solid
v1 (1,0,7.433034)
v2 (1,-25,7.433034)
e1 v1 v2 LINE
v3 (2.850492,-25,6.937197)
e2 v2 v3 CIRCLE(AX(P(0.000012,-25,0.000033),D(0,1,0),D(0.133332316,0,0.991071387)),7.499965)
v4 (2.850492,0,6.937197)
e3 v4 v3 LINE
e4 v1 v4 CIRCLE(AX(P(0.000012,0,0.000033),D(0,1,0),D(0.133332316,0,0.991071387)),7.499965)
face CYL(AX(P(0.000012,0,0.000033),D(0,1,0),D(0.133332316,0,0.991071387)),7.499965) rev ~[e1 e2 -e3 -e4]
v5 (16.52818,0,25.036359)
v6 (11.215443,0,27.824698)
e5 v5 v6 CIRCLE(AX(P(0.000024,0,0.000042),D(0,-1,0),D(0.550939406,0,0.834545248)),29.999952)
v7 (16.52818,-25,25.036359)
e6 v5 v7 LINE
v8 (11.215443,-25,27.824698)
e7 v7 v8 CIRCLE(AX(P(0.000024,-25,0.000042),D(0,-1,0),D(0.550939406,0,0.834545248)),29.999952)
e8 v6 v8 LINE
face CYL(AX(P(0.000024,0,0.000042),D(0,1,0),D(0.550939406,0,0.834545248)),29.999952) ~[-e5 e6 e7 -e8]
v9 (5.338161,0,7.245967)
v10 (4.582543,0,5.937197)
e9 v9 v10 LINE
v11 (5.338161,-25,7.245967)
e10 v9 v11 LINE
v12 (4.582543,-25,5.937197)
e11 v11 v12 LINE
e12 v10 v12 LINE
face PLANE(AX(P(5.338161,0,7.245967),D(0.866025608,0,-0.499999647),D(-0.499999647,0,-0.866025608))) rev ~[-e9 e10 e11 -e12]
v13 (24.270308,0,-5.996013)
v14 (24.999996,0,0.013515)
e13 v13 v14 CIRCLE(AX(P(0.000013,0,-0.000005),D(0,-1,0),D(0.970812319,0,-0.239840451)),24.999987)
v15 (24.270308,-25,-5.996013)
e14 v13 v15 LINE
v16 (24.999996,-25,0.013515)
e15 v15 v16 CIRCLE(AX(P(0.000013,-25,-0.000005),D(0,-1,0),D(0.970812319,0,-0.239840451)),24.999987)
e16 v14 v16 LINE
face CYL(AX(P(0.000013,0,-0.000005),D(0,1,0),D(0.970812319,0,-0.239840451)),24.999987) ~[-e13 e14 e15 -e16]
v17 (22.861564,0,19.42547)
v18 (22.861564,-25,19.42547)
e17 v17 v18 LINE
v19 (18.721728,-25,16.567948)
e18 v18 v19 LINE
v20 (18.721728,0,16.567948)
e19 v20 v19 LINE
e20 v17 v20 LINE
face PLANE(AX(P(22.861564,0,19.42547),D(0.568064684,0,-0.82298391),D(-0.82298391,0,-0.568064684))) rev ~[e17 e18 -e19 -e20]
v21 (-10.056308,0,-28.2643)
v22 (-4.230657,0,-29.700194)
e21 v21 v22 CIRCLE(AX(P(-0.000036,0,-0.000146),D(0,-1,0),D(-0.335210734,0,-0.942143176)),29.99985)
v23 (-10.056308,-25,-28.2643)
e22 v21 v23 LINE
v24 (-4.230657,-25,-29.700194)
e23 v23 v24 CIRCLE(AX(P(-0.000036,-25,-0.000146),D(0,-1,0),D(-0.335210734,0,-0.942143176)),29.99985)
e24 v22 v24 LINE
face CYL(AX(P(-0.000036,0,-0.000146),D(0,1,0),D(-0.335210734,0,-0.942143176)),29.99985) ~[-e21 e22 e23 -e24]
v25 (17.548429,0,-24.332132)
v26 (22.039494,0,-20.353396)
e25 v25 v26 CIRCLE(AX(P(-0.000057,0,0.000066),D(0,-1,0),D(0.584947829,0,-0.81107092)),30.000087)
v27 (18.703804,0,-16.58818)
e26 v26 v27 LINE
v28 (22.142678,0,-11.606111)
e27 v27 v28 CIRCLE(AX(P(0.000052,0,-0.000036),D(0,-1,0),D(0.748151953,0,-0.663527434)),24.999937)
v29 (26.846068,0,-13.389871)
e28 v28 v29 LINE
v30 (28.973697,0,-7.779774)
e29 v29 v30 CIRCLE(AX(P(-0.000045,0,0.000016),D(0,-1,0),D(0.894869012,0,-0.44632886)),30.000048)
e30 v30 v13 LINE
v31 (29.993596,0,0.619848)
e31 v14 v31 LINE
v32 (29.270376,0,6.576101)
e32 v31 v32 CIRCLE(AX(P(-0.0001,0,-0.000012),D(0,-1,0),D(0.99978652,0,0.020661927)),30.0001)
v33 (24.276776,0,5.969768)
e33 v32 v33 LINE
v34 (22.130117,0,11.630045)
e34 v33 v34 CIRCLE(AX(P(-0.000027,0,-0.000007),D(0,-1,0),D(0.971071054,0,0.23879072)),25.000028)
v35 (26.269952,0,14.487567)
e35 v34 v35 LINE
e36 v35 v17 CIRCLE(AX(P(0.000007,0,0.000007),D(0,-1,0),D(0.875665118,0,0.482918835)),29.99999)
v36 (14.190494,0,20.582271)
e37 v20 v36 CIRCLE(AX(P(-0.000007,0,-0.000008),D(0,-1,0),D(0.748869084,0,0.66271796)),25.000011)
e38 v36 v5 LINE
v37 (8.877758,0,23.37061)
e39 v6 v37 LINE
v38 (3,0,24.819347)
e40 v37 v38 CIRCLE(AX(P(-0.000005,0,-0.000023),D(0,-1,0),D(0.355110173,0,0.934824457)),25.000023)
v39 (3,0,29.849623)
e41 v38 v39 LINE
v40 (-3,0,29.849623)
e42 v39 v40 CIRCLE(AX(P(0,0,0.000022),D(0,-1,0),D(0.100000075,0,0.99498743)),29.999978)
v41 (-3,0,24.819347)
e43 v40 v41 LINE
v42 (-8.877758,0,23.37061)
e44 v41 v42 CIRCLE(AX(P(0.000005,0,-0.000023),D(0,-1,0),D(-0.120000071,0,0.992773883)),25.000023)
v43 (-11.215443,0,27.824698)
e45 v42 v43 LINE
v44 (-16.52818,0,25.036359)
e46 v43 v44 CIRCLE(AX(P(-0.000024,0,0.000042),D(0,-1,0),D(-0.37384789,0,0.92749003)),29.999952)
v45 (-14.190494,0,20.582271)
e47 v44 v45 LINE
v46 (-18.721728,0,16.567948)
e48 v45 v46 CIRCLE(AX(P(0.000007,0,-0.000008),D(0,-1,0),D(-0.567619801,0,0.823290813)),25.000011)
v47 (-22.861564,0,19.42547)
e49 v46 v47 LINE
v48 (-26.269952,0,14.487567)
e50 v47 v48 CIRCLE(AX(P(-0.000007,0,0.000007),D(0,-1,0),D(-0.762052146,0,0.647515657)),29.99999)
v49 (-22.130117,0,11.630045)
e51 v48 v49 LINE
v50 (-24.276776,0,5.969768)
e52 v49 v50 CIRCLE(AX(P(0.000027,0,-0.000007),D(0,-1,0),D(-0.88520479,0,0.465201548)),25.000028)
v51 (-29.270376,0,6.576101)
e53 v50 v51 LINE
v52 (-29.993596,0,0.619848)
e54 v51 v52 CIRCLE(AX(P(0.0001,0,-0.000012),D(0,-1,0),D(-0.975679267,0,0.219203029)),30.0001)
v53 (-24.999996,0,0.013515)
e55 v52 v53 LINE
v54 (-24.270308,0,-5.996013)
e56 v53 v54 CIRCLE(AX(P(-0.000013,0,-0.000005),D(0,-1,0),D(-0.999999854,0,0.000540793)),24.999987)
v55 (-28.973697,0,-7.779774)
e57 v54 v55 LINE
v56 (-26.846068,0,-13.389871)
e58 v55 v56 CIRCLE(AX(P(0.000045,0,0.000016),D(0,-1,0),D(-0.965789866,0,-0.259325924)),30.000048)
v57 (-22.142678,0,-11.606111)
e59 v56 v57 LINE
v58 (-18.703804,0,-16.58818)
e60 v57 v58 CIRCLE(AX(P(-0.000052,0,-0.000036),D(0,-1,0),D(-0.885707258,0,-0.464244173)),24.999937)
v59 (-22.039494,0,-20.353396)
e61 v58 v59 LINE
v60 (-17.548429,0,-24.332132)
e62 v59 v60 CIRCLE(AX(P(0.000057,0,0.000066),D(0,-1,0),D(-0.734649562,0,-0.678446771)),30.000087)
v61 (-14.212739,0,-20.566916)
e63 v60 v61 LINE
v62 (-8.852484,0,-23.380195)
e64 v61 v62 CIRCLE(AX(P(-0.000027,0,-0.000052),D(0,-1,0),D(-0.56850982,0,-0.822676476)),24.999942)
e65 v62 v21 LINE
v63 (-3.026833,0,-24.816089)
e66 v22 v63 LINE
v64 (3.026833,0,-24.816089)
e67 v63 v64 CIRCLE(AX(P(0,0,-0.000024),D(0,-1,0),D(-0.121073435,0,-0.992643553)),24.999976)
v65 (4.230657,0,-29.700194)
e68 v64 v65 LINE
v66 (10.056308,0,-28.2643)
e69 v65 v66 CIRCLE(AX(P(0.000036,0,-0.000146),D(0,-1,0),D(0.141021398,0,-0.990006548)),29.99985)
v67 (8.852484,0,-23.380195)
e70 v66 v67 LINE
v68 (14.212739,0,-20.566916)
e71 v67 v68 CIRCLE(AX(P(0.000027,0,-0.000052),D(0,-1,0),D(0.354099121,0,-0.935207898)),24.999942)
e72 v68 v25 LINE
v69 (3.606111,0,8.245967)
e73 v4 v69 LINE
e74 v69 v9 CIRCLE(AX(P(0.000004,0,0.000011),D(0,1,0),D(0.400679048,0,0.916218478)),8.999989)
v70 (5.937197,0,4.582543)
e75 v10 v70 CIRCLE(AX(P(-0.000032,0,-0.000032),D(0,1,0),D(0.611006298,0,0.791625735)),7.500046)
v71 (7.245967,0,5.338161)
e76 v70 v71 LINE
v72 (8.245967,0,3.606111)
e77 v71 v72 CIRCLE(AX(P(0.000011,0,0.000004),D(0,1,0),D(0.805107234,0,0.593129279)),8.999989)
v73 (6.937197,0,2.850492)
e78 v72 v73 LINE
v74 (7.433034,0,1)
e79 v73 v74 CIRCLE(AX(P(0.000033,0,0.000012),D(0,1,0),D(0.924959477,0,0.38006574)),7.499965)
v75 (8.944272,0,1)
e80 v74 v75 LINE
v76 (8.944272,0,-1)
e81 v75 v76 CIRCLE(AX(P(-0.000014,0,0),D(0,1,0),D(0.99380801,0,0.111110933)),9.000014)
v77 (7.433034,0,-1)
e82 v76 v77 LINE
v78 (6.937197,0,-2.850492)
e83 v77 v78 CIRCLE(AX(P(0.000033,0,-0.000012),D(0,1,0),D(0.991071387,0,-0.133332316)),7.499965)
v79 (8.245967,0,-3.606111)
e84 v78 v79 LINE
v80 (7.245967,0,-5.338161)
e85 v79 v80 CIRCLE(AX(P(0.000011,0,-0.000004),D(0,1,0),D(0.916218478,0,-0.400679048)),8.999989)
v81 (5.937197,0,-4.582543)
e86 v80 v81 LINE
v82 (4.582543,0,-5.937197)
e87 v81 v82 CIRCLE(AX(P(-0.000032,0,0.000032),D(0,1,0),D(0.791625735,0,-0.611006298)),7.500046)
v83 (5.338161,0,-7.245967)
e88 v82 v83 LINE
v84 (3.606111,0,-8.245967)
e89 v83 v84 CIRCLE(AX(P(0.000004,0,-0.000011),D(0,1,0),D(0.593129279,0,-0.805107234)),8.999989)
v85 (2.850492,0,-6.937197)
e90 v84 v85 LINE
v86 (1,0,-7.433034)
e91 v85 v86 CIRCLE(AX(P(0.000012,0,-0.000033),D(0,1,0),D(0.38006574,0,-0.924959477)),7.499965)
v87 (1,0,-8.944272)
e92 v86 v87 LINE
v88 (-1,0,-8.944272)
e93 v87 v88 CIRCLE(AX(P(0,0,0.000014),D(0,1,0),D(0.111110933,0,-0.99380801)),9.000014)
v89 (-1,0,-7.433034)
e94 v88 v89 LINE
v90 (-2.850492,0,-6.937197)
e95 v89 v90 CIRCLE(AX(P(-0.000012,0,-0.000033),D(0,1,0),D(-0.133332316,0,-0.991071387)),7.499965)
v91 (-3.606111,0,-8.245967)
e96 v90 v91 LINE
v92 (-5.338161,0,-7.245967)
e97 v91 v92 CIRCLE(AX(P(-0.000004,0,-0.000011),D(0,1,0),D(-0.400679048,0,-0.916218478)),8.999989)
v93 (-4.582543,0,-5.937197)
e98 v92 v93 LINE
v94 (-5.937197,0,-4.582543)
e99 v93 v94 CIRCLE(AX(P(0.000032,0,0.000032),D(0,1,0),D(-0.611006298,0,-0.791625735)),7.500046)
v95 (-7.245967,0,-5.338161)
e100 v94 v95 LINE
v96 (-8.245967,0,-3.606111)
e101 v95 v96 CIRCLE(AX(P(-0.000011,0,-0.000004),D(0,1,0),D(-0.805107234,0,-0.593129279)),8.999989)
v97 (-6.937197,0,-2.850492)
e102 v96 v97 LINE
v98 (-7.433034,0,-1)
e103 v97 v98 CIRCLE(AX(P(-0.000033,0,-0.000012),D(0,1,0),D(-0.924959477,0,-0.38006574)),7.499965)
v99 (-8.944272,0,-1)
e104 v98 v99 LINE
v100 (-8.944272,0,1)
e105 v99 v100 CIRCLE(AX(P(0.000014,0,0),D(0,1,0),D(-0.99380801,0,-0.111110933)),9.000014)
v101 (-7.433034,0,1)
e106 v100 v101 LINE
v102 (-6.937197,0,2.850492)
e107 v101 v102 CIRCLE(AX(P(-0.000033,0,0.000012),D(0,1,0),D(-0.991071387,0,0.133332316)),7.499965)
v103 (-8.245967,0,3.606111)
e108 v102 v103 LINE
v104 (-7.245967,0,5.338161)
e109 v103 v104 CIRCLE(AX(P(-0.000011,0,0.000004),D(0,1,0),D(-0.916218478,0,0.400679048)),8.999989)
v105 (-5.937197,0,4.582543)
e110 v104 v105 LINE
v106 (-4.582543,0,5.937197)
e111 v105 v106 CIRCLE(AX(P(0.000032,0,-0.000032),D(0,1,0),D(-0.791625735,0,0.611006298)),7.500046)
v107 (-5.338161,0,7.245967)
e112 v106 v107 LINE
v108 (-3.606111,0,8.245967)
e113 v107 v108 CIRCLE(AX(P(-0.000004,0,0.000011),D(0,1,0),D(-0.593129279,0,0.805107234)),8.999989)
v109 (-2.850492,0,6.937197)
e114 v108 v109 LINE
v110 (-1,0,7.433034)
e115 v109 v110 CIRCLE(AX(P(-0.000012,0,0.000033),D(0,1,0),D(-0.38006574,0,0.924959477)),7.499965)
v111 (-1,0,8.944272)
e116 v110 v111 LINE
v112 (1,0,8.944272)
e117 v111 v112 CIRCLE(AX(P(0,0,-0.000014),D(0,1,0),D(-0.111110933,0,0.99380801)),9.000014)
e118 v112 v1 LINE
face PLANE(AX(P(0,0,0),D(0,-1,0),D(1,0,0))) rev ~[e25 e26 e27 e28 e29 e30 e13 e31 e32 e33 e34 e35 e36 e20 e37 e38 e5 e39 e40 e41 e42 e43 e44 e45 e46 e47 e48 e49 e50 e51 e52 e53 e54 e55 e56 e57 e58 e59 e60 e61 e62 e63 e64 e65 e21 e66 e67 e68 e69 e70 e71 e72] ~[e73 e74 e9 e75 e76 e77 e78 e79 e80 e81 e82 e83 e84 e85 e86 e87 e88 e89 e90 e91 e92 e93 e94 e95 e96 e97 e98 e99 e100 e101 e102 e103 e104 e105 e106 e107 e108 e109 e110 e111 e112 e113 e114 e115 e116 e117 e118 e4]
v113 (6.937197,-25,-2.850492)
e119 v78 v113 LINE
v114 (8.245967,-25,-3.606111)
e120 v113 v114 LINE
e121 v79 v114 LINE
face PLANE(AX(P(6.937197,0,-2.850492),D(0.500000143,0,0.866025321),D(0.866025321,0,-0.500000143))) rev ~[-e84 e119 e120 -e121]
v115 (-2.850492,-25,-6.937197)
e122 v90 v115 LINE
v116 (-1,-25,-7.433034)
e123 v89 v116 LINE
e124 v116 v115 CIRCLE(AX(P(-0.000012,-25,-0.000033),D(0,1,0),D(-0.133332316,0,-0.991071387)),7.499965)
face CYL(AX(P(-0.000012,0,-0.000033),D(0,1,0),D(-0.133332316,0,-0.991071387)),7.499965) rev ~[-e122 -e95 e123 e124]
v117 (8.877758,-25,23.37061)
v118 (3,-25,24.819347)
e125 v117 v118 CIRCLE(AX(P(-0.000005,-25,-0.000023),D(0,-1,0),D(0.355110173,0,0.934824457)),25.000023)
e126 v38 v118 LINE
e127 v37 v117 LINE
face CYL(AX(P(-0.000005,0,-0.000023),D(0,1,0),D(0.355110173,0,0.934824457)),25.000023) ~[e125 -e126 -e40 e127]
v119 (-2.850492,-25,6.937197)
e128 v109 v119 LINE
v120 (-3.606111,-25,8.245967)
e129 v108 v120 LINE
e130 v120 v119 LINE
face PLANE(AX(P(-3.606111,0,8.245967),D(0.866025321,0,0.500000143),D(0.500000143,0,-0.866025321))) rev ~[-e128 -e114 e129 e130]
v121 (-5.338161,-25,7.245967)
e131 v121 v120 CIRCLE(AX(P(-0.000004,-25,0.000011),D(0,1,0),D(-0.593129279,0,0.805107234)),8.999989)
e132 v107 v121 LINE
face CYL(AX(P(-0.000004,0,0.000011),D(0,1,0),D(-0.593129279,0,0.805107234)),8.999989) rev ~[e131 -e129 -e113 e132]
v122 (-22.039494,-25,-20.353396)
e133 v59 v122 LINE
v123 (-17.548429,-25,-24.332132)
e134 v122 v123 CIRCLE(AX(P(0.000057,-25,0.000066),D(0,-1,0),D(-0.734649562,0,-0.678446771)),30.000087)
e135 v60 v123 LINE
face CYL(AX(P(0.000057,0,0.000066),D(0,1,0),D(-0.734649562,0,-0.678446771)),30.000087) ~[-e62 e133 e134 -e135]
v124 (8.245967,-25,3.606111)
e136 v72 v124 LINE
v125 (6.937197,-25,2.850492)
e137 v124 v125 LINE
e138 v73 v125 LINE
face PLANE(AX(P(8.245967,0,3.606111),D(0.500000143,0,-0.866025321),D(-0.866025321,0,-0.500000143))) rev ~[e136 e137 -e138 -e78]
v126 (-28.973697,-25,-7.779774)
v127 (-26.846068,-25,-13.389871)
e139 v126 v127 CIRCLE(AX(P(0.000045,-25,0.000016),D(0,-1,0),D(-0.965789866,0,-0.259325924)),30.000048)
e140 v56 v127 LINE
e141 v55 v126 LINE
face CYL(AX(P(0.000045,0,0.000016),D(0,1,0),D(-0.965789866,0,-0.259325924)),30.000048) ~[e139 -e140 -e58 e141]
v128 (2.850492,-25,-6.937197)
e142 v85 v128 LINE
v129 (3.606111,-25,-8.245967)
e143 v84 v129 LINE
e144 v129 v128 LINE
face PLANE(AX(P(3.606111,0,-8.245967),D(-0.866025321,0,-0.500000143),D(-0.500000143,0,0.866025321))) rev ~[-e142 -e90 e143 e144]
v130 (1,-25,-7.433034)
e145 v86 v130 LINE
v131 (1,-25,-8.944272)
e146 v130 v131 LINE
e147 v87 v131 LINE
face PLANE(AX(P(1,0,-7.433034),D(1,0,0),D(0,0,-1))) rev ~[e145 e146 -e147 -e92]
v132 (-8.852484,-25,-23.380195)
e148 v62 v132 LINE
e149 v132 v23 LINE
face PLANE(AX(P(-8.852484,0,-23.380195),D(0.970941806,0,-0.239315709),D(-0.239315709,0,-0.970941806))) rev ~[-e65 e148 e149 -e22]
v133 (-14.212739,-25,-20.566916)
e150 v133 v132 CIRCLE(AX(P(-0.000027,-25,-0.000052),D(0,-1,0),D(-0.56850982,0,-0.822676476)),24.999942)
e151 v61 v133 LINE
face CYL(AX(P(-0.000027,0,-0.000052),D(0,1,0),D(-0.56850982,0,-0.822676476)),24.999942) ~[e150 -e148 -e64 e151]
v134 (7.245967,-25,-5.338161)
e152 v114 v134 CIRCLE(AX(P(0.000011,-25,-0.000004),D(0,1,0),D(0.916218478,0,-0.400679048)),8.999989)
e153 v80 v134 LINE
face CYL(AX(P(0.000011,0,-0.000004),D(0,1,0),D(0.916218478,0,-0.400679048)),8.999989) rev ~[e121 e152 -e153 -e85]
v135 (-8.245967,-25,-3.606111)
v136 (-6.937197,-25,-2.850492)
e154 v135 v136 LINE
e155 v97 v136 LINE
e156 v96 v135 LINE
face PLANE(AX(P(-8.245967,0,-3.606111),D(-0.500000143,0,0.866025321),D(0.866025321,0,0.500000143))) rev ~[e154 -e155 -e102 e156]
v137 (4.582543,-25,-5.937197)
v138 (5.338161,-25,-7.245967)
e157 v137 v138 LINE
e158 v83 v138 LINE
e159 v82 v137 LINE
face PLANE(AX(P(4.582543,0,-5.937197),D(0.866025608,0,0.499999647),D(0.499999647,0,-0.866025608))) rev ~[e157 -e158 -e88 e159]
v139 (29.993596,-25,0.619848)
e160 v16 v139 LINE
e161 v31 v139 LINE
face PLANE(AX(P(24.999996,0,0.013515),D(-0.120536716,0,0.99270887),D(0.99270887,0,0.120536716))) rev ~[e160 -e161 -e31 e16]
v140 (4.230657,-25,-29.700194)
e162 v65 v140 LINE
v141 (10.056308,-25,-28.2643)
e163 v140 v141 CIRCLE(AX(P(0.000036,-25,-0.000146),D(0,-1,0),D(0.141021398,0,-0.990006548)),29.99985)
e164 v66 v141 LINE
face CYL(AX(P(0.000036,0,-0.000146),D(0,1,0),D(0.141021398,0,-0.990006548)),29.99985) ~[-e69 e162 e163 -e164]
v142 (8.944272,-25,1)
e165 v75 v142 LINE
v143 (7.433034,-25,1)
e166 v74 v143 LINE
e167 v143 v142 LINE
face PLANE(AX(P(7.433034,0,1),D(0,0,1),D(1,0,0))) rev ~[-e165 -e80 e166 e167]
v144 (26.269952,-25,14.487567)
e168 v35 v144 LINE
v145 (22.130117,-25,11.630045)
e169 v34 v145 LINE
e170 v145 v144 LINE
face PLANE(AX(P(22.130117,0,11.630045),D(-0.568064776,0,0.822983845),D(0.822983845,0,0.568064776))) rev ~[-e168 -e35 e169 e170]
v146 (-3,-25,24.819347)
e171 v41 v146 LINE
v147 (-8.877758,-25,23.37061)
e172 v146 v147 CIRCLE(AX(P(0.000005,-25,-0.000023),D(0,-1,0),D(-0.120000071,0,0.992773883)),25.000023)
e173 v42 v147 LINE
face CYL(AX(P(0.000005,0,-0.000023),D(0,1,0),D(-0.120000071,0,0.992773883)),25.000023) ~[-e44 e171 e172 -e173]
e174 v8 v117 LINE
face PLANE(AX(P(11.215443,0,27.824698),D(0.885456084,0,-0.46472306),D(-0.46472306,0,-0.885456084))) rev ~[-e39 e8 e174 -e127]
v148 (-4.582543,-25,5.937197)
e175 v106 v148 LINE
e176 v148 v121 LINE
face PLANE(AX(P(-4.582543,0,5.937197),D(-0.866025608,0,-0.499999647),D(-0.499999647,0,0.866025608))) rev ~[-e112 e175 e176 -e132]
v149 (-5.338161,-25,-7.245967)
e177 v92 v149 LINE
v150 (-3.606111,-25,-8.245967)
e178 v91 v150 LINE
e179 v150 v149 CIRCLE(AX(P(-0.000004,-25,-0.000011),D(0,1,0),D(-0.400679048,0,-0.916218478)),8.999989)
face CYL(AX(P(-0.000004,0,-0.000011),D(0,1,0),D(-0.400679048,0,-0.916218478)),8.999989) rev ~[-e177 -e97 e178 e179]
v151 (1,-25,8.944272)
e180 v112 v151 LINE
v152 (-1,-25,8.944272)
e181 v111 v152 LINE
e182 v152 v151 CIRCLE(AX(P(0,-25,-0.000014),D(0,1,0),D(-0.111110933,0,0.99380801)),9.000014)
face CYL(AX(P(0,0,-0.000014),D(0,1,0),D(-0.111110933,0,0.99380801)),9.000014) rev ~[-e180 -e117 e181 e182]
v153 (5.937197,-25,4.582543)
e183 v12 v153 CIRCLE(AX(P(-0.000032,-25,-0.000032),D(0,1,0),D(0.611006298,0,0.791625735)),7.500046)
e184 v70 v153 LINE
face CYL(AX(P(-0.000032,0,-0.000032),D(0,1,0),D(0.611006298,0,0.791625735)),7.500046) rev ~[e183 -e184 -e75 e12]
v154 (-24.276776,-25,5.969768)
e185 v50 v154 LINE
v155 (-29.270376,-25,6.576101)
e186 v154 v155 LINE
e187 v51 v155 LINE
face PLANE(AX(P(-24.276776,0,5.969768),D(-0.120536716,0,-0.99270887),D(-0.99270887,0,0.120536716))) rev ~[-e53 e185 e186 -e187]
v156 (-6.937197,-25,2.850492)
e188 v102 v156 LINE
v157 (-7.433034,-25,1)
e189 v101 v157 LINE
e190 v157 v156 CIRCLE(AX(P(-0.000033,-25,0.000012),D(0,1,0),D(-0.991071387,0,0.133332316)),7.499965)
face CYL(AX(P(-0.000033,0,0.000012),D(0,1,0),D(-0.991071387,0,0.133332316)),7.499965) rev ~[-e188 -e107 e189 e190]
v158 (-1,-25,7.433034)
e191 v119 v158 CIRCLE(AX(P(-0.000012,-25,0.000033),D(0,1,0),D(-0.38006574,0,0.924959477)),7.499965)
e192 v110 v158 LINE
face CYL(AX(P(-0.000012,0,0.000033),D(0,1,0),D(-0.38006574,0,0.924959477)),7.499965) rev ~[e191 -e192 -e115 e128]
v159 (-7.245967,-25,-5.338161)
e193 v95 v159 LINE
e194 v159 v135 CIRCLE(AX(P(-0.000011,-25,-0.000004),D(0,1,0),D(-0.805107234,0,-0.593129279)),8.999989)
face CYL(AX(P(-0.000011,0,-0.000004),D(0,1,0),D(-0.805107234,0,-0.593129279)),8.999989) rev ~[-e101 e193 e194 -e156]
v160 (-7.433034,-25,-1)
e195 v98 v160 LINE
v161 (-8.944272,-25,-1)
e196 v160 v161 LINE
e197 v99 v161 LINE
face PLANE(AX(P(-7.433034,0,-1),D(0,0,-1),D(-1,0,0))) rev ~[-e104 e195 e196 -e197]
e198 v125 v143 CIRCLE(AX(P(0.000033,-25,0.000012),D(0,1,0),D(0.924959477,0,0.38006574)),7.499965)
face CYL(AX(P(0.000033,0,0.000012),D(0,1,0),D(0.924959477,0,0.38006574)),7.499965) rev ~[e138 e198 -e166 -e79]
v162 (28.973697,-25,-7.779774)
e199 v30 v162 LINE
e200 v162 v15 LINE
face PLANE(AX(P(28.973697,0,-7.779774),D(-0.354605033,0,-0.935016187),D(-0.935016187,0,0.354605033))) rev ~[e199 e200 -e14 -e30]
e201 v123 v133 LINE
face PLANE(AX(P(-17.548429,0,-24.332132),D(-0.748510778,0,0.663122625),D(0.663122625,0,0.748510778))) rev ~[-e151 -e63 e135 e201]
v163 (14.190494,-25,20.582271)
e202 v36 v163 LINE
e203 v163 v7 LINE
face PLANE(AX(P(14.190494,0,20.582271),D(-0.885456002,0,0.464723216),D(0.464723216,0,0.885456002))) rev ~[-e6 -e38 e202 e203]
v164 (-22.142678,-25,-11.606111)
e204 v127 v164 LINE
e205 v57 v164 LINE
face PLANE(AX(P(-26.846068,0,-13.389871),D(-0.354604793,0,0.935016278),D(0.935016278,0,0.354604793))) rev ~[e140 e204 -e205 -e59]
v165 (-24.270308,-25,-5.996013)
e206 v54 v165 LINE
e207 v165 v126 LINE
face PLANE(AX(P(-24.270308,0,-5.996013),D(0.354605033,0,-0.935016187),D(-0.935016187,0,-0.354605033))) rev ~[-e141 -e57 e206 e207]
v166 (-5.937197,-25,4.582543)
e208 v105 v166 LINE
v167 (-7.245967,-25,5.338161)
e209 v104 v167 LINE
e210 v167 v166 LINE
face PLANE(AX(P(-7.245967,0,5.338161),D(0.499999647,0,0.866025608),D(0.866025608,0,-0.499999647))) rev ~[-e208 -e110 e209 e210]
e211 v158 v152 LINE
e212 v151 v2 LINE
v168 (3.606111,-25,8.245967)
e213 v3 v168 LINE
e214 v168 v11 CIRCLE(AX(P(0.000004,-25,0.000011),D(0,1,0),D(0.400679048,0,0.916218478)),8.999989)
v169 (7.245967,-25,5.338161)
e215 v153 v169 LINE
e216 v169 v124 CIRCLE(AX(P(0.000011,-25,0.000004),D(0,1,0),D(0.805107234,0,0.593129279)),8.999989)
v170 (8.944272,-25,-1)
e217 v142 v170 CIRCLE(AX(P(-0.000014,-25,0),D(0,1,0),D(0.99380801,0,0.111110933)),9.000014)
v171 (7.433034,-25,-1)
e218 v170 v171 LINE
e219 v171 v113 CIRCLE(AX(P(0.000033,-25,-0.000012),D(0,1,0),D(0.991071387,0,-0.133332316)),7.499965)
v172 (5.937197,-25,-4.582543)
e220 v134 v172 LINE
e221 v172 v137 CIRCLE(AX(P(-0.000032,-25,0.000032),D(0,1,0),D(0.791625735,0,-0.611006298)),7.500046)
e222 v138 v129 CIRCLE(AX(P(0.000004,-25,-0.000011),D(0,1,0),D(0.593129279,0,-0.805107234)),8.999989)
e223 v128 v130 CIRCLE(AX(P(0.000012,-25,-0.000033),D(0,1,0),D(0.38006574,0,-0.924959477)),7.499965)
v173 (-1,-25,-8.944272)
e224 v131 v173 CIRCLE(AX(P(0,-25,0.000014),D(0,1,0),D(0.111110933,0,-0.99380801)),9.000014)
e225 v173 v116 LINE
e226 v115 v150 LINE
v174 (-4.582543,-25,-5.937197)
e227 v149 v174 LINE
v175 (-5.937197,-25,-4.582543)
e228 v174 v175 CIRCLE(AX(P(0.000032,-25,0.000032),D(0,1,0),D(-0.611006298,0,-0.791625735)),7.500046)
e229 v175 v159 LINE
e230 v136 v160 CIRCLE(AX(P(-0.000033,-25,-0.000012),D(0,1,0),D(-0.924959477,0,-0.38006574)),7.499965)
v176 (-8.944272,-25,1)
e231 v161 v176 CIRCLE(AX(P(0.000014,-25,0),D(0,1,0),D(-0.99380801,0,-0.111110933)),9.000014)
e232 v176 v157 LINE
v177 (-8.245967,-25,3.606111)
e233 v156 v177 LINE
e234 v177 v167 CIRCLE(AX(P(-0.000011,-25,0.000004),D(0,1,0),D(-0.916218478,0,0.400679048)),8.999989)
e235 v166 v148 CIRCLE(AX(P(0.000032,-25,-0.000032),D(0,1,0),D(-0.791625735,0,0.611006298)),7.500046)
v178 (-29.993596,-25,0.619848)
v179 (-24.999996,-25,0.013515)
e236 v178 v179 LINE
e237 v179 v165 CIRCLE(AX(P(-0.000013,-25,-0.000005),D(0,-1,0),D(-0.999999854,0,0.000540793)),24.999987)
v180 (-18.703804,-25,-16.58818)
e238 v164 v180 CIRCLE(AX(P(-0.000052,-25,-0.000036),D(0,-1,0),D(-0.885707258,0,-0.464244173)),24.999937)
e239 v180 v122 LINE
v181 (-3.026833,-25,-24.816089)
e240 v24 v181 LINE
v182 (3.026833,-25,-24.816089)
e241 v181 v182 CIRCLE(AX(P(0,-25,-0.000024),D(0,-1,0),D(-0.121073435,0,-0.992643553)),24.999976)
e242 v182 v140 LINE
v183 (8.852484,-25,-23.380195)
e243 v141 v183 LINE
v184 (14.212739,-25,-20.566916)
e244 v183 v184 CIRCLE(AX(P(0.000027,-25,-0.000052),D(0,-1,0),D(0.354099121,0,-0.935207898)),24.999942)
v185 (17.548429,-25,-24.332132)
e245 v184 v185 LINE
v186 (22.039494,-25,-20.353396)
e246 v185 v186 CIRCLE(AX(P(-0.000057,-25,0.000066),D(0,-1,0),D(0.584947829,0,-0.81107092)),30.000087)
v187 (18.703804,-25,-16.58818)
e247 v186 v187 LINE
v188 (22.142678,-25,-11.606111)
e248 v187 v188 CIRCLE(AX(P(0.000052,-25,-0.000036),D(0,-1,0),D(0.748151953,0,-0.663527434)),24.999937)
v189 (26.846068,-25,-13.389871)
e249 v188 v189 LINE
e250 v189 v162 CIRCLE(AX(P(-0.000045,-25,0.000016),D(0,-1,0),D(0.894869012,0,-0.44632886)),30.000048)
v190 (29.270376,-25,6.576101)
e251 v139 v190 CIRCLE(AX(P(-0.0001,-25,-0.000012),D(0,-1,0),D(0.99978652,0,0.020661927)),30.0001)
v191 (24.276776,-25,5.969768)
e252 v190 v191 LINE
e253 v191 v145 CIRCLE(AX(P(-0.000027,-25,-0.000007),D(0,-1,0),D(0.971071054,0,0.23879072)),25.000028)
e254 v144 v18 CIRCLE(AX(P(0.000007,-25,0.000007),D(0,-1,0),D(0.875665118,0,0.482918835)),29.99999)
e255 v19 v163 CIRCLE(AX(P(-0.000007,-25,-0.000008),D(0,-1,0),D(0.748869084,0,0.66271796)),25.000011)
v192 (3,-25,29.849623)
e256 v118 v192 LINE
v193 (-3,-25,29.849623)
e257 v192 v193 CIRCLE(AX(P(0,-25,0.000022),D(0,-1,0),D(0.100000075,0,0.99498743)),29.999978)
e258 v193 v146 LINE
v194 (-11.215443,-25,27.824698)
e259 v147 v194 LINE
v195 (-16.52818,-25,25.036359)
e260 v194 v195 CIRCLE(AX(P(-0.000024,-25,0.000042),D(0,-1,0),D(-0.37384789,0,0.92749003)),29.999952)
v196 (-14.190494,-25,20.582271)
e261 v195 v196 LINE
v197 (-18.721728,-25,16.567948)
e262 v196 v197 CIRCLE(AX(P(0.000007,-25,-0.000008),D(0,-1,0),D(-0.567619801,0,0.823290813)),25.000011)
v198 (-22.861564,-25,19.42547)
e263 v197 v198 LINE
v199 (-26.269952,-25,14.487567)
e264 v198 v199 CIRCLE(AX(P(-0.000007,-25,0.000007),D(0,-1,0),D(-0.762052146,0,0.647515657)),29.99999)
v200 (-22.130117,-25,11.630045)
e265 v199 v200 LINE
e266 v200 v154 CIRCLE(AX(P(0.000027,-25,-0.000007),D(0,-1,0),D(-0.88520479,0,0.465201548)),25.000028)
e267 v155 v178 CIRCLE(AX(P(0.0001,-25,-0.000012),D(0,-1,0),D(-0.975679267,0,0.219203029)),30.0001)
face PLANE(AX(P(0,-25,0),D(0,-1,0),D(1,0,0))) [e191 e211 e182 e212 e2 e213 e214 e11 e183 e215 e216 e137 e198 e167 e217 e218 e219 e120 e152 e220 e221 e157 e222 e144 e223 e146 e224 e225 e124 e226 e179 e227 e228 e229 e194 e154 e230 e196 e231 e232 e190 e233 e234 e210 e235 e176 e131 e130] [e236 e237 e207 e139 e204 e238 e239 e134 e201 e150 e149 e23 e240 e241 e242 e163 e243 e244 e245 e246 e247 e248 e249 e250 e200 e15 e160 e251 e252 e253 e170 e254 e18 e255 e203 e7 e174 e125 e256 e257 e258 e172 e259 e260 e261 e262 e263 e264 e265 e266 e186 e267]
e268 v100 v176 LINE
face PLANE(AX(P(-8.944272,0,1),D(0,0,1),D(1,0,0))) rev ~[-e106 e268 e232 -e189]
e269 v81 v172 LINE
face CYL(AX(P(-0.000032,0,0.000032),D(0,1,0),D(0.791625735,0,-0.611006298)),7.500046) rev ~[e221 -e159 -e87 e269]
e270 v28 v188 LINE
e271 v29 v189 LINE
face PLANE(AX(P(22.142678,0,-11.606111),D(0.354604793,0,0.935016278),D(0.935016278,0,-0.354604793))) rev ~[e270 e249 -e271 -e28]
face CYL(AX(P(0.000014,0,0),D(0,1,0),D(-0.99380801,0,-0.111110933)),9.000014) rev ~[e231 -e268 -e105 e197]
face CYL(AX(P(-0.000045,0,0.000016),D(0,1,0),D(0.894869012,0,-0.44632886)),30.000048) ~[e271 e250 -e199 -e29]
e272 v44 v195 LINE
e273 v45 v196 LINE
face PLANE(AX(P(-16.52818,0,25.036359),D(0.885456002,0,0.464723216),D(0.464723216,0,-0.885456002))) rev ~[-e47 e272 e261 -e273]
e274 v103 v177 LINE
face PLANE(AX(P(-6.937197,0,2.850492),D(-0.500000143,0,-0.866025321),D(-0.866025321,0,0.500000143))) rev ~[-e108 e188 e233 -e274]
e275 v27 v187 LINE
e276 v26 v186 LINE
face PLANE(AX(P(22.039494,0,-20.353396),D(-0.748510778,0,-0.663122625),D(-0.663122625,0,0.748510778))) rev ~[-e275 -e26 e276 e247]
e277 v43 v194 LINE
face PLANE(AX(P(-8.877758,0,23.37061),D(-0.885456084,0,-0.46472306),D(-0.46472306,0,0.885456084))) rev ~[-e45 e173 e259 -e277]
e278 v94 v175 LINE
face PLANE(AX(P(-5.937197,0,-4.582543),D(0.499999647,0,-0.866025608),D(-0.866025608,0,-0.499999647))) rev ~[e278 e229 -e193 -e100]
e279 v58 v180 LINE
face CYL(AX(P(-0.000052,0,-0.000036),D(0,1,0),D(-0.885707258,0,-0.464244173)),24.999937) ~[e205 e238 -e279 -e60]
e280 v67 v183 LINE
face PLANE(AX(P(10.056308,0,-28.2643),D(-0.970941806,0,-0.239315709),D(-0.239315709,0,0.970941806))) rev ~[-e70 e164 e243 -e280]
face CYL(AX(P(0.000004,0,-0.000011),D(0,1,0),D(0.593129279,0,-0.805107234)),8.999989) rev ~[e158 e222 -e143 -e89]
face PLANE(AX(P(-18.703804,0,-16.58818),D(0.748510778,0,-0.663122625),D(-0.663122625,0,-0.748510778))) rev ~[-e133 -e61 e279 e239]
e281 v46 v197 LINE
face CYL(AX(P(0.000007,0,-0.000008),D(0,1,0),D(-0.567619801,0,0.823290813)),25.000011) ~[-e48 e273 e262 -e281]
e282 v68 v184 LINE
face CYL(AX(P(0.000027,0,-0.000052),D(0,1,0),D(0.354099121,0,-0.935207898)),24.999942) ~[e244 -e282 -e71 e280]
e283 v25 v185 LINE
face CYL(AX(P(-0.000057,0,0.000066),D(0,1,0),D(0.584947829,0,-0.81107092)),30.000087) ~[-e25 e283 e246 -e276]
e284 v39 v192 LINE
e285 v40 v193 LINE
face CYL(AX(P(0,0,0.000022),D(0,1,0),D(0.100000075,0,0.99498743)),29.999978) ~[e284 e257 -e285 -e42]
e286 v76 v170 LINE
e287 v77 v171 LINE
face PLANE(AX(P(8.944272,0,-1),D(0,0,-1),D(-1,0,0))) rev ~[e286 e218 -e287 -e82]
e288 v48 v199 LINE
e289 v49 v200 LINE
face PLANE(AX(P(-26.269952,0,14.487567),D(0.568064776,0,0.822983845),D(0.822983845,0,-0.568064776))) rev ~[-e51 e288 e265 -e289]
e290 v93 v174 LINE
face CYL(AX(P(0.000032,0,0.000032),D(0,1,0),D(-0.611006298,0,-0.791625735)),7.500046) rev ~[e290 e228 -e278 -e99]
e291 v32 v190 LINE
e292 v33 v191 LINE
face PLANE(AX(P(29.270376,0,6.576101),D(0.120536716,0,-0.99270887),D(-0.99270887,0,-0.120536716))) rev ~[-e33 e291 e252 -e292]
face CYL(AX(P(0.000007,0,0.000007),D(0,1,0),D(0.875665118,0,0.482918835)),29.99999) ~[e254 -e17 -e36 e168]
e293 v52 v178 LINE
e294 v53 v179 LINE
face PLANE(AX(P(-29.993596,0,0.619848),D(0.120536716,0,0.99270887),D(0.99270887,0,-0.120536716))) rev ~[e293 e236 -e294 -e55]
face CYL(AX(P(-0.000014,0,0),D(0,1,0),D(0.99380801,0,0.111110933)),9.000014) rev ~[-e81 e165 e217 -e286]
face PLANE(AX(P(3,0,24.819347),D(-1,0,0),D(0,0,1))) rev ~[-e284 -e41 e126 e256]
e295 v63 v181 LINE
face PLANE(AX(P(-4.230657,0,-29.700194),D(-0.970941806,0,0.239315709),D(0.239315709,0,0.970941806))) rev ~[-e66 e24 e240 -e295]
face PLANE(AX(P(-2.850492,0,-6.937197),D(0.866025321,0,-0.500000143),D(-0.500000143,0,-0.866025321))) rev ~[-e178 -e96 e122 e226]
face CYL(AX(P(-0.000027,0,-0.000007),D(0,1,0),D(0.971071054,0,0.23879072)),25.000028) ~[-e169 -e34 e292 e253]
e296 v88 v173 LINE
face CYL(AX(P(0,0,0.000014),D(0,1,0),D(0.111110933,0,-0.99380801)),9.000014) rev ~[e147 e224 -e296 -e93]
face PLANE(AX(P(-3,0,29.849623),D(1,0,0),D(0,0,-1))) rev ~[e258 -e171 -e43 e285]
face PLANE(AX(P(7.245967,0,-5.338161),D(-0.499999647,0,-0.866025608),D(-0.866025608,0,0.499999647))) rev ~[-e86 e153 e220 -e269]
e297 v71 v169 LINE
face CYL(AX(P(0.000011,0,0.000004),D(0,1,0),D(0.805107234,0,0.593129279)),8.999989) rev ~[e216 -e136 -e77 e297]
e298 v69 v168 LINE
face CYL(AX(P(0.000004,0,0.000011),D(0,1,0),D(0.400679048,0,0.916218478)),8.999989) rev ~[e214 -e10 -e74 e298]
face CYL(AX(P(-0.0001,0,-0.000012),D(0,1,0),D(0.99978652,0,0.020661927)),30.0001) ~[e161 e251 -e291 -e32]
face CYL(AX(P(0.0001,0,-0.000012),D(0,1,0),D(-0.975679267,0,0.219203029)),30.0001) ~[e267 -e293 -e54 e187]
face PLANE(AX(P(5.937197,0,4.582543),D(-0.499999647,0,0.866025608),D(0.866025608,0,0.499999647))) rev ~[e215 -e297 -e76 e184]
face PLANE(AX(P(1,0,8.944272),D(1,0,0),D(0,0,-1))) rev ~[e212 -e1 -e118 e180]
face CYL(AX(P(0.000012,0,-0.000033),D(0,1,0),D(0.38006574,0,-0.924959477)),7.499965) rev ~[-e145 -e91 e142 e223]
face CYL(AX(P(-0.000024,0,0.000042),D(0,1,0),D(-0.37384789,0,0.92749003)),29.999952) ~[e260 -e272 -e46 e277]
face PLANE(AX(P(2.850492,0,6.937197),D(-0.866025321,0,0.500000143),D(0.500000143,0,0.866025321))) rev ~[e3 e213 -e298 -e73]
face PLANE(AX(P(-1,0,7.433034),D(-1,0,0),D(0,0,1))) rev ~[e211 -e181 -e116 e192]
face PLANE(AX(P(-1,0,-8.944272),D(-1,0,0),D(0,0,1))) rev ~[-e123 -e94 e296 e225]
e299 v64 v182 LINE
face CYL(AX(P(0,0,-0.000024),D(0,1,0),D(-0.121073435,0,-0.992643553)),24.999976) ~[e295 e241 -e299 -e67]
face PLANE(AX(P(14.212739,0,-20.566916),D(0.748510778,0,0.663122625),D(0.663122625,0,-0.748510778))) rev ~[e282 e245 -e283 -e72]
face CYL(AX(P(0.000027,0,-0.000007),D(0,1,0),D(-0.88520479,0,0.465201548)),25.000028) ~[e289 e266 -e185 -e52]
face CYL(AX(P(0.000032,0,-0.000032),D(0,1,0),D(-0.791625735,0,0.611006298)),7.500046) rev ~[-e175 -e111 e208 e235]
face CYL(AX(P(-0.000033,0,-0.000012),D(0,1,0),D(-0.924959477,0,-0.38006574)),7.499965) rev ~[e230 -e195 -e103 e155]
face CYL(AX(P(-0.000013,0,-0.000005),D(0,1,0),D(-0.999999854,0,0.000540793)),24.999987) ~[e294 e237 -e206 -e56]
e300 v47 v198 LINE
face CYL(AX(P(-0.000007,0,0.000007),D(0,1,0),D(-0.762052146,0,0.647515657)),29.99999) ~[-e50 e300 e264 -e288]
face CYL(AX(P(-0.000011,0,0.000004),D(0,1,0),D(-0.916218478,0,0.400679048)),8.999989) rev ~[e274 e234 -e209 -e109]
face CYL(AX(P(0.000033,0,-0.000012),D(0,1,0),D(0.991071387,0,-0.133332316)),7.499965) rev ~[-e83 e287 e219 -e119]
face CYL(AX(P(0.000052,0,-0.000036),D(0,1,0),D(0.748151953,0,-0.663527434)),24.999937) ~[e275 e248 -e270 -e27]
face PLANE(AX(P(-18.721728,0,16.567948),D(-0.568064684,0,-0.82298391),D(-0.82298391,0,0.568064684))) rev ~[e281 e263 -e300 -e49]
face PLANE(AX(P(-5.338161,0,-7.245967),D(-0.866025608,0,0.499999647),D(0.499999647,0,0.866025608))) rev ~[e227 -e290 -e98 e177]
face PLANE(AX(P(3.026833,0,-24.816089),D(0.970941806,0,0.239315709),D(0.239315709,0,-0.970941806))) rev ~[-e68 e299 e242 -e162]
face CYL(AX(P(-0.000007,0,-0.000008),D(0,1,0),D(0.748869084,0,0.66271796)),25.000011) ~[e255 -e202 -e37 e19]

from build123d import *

# Parameters (mm, degrees)
F1_DEPTH = 25


with BuildPart() as f1:
    # F0 (on Front) → F1 (new body)
    with BuildSketch(Plane.XZ):
        with BuildLine():
            Line((-16.52818, 25.036359), (-14.190494, 20.582271))
            ThreePointArc((-14.190494, 20.582271), (-16.578066, 18.712769), (-18.721728, 16.567948))
            Line((-18.721728, 16.567948), (-22.861564, 19.42547))
            ThreePointArc((-22.861564, 19.42547), (-24.689516, 17.041942), (-26.269952, 14.487567))
            Line((-26.269952, 14.487567), (-22.130117, 11.630045))
            ThreePointArc((-22.130117, 11.630045), (-23.375406, 8.865122), (-24.276776, 5.969768))
            Line((-24.276776, 5.969768), (-29.270376, 6.576101))
            ThreePointArc((-29.270376, 6.576101), (-29.781266, 3.6161), (-29.993596, 0.619848))
            Line((-29.993596, 0.619848), (-24.999996, 0.013515))
            ThreePointArc((-24.999996, 0.013515), (-24.817722, -3.013417), (-24.270308, -5.996013))
            Line((-24.270308, -5.996013), (-28.973697, -7.779774))
            ThreePointArc((-28.973697, -7.779774), (-28.050487, -10.638147), (-26.846068, -13.389871))
            Line((-26.846068, -13.389871), (-22.142678, -11.606111))
            ThreePointArc((-22.142678, -11.606111), (-20.574597, -14.201619), (-18.703804, -16.58818))
            Line((-18.703804, -16.58818), (-22.039494, -20.353396))
            ThreePointArc((-22.039494, -20.353396), (-19.89368, -22.455322), (-17.548429, -24.332132))
            Line((-17.548429, -24.332132), (-14.212739, -20.566916))
            ThreePointArc((-14.212739, -20.566916), (-11.618079, -22.136401), (-8.852484, -23.380195))
            Line((-8.852484, -23.380195), (-10.056308, -28.2643))
            ThreePointArc((-10.056308, -28.2643), (-7.17947, -29.128255), (-4.230657, -29.700194))
            Line((-4.230657, -29.700194), (-3.026833, -24.816089))
            ThreePointArc((-3.026833, -24.816089), (0, -25), (3.026833, -24.816089))
            Line((3.026833, -24.816089), (4.230657, -29.700194))
            ThreePointArc((4.230657, -29.700194), (7.17947, -29.128255), (10.056308, -28.2643))
            Line((10.056308, -28.2643), (8.852484, -23.380195))
            ThreePointArc((8.852484, -23.380195), (11.618079, -22.136401), (14.212739, -20.566916))
            Line((14.212739, -20.566916), (17.548429, -24.332132))
            ThreePointArc((17.548429, -24.332132), (19.89368, -22.455322), (22.039494, -20.353396))
            Line((22.039494, -20.353396), (18.703804, -16.58818))
            ThreePointArc((18.703804, -16.58818), (20.574597, -14.201619), (22.142678, -11.606111))
            Line((22.142678, -11.606111), (26.846068, -13.389871))
            ThreePointArc((26.846068, -13.389871), (28.050487, -10.638147), (28.973697, -7.779774))
            Line((28.973697, -7.779774), (24.270308, -5.996013))
            ThreePointArc((24.270308, -5.996013), (24.817722, -3.013417), (24.999996, 0.013515))
            Line((24.999996, 0.013515), (29.993596, 0.619848))
            ThreePointArc((29.993596, 0.619848), (29.781266, 3.6161), (29.270376, 6.576101))
            Line((29.270376, 6.576101), (24.276776, 5.969768))
            ThreePointArc((24.276776, 5.969768), (23.375406, 8.865122), (22.130117, 11.630045))
            Line((22.130117, 11.630045), (26.269952, 14.487567))
            ThreePointArc((26.269952, 14.487567), (24.689516, 17.041942), (22.861564, 19.42547))
            Line((22.861564, 19.42547), (18.721728, 16.567948))
            ThreePointArc((18.721728, 16.567948), (16.578066, 18.712769), (14.190494, 20.582271))
            Line((14.190494, 20.582271), (16.52818, 25.036359))
            ThreePointArc((16.52818, 25.036359), (13.941695, 26.563681), (11.215443, 27.824698))
            Line((11.215443, 27.824698), (8.877758, 23.37061))
            ThreePointArc((8.877758, 23.37061), (5.982892, 24.273545), (3, 24.819347))
            Line((3, 24.819347), (3, 29.849623))
            ThreePointArc((3, 29.849623), (0, 30), (-3, 29.849623))
            Line((-3, 29.849623), (-3, 24.819347))
            ThreePointArc((-3, 24.819347), (-5.982892, 24.273545), (-8.877758, 23.37061))
            Line((-8.877758, 23.37061), (-11.215443, 27.824698))
            ThreePointArc((-11.215443, 27.824698), (-13.941695, 26.563681), (-16.52818, 25.036359))
        make_face()
        with BuildLine():
            ThreePointArc((-5.937197, 4.582543), (-5.303301, 5.303301), (-4.582543, 5.937197))
            Line((-4.582543, 5.937197), (-5.338161, 7.245967))
            ThreePointArc((-5.338161, 7.245967), (-4.5, 7.794229), (-3.606111, 8.245967))
            Line((-3.606111, 8.245967), (-2.850492, 6.937197))
            ThreePointArc((-2.850492, 6.937197), (-1.941143, 7.244444), (-1, 7.433034))
            Line((-1, 7.433034), (-1, 8.944272))
            ThreePointArc((-1, 8.944272), (0, 9), (1, 8.944272))
            Line((1, 8.944272), (1, 7.433034))
            ThreePointArc((1, 7.433034), (1.941143, 7.244444), (2.850492, 6.937197))
            Line((2.850492, 6.937197), (3.606111, 8.245967))
            ThreePointArc((3.606111, 8.245967), (4.5, 7.794229), (5.338161, 7.245967))
            Line((5.338161, 7.245967), (4.582543, 5.937197))
            ThreePointArc((4.582543, 5.937197), (5.303301, 5.303301), (5.937197, 4.582543))
            Line((5.937197, 4.582543), (7.245967, 5.338161))
            ThreePointArc((7.245967, 5.338161), (7.794229, 4.5), (8.245967, 3.606111))
            Line((8.245967, 3.606111), (6.937197, 2.850492))
            ThreePointArc((6.937197, 2.850492), (7.244444, 1.941143), (7.433034, 1))
            Line((7.433034, 1), (8.944272, 1))
            ThreePointArc((8.944272, 1), (9, 0), (8.944272, -1))
            Line((8.944272, -1), (7.433034, -1))
            ThreePointArc((7.433034, -1), (7.244444, -1.941143), (6.937197, -2.850492))
            Line((6.937197, -2.850492), (8.245967, -3.606111))
            ThreePointArc((8.245967, -3.606111), (7.794229, -4.5), (7.245967, -5.338161))
            Line((7.245967, -5.338161), (5.937197, -4.582543))
            ThreePointArc((5.937197, -4.582543), (5.303301, -5.303301), (4.582543, -5.937197))
            Line((4.582543, -5.937197), (5.338161, -7.245967))
            ThreePointArc((5.338161, -7.245967), (4.5, -7.794229), (3.606111, -8.245967))
            Line((3.606111, -8.245967), (2.850492, -6.937197))
            ThreePointArc((2.850492, -6.937197), (1.941143, -7.244444), (1, -7.433034))
            Line((1, -7.433034), (1, -8.944272))
            ThreePointArc((1, -8.944272), (0, -9), (-1, -8.944272))
            Line((-1, -8.944272), (-1, -7.433034))
            ThreePointArc((-1, -7.433034), (-1.941143, -7.244444), (-2.850492, -6.937197))
            Line((-2.850492, -6.937197), (-3.606111, -8.245967))
            ThreePointArc((-3.606111, -8.245967), (-4.5, -7.794229), (-5.338161, -7.245967))
            Line((-5.338161, -7.245967), (-4.582543, -5.937197))
            ThreePointArc((-4.582543, -5.937197), (-5.303301, -5.303301), (-5.937197, -4.582543))
            Line((-5.937197, -4.582543), (-7.245967, -5.338161))
            ThreePointArc((-7.245967, -5.338161), (-7.794229, -4.5), (-8.245967, -3.606111))
            Line((-8.245967, -3.606111), (-6.937197, -2.850492))
            ThreePointArc((-6.937197, -2.850492), (-7.244444, -1.941143), (-7.433034, -1))
            Line((-7.433034, -1), (-8.944272, -1))
            ThreePointArc((-8.944272, -1), (-9, 0), (-8.944272, 1))
            Line((-8.944272, 1), (-7.433034, 1))
            ThreePointArc((-7.433034, 1), (-7.244444, 1.941143), (-6.937197, 2.850492))
            Line((-6.937197, 2.850492), (-8.245967, 3.606111))
            ThreePointArc((-8.245967, 3.606111), (-7.794229, 4.5), (-7.245967, 5.338161))
            Line((-7.245967, 5.338161), (-5.937197, 4.582543))
        make_face(mode=Mode.SUBTRACT)
    extrude(amount=F1_DEPTH)


solid = f1.part
